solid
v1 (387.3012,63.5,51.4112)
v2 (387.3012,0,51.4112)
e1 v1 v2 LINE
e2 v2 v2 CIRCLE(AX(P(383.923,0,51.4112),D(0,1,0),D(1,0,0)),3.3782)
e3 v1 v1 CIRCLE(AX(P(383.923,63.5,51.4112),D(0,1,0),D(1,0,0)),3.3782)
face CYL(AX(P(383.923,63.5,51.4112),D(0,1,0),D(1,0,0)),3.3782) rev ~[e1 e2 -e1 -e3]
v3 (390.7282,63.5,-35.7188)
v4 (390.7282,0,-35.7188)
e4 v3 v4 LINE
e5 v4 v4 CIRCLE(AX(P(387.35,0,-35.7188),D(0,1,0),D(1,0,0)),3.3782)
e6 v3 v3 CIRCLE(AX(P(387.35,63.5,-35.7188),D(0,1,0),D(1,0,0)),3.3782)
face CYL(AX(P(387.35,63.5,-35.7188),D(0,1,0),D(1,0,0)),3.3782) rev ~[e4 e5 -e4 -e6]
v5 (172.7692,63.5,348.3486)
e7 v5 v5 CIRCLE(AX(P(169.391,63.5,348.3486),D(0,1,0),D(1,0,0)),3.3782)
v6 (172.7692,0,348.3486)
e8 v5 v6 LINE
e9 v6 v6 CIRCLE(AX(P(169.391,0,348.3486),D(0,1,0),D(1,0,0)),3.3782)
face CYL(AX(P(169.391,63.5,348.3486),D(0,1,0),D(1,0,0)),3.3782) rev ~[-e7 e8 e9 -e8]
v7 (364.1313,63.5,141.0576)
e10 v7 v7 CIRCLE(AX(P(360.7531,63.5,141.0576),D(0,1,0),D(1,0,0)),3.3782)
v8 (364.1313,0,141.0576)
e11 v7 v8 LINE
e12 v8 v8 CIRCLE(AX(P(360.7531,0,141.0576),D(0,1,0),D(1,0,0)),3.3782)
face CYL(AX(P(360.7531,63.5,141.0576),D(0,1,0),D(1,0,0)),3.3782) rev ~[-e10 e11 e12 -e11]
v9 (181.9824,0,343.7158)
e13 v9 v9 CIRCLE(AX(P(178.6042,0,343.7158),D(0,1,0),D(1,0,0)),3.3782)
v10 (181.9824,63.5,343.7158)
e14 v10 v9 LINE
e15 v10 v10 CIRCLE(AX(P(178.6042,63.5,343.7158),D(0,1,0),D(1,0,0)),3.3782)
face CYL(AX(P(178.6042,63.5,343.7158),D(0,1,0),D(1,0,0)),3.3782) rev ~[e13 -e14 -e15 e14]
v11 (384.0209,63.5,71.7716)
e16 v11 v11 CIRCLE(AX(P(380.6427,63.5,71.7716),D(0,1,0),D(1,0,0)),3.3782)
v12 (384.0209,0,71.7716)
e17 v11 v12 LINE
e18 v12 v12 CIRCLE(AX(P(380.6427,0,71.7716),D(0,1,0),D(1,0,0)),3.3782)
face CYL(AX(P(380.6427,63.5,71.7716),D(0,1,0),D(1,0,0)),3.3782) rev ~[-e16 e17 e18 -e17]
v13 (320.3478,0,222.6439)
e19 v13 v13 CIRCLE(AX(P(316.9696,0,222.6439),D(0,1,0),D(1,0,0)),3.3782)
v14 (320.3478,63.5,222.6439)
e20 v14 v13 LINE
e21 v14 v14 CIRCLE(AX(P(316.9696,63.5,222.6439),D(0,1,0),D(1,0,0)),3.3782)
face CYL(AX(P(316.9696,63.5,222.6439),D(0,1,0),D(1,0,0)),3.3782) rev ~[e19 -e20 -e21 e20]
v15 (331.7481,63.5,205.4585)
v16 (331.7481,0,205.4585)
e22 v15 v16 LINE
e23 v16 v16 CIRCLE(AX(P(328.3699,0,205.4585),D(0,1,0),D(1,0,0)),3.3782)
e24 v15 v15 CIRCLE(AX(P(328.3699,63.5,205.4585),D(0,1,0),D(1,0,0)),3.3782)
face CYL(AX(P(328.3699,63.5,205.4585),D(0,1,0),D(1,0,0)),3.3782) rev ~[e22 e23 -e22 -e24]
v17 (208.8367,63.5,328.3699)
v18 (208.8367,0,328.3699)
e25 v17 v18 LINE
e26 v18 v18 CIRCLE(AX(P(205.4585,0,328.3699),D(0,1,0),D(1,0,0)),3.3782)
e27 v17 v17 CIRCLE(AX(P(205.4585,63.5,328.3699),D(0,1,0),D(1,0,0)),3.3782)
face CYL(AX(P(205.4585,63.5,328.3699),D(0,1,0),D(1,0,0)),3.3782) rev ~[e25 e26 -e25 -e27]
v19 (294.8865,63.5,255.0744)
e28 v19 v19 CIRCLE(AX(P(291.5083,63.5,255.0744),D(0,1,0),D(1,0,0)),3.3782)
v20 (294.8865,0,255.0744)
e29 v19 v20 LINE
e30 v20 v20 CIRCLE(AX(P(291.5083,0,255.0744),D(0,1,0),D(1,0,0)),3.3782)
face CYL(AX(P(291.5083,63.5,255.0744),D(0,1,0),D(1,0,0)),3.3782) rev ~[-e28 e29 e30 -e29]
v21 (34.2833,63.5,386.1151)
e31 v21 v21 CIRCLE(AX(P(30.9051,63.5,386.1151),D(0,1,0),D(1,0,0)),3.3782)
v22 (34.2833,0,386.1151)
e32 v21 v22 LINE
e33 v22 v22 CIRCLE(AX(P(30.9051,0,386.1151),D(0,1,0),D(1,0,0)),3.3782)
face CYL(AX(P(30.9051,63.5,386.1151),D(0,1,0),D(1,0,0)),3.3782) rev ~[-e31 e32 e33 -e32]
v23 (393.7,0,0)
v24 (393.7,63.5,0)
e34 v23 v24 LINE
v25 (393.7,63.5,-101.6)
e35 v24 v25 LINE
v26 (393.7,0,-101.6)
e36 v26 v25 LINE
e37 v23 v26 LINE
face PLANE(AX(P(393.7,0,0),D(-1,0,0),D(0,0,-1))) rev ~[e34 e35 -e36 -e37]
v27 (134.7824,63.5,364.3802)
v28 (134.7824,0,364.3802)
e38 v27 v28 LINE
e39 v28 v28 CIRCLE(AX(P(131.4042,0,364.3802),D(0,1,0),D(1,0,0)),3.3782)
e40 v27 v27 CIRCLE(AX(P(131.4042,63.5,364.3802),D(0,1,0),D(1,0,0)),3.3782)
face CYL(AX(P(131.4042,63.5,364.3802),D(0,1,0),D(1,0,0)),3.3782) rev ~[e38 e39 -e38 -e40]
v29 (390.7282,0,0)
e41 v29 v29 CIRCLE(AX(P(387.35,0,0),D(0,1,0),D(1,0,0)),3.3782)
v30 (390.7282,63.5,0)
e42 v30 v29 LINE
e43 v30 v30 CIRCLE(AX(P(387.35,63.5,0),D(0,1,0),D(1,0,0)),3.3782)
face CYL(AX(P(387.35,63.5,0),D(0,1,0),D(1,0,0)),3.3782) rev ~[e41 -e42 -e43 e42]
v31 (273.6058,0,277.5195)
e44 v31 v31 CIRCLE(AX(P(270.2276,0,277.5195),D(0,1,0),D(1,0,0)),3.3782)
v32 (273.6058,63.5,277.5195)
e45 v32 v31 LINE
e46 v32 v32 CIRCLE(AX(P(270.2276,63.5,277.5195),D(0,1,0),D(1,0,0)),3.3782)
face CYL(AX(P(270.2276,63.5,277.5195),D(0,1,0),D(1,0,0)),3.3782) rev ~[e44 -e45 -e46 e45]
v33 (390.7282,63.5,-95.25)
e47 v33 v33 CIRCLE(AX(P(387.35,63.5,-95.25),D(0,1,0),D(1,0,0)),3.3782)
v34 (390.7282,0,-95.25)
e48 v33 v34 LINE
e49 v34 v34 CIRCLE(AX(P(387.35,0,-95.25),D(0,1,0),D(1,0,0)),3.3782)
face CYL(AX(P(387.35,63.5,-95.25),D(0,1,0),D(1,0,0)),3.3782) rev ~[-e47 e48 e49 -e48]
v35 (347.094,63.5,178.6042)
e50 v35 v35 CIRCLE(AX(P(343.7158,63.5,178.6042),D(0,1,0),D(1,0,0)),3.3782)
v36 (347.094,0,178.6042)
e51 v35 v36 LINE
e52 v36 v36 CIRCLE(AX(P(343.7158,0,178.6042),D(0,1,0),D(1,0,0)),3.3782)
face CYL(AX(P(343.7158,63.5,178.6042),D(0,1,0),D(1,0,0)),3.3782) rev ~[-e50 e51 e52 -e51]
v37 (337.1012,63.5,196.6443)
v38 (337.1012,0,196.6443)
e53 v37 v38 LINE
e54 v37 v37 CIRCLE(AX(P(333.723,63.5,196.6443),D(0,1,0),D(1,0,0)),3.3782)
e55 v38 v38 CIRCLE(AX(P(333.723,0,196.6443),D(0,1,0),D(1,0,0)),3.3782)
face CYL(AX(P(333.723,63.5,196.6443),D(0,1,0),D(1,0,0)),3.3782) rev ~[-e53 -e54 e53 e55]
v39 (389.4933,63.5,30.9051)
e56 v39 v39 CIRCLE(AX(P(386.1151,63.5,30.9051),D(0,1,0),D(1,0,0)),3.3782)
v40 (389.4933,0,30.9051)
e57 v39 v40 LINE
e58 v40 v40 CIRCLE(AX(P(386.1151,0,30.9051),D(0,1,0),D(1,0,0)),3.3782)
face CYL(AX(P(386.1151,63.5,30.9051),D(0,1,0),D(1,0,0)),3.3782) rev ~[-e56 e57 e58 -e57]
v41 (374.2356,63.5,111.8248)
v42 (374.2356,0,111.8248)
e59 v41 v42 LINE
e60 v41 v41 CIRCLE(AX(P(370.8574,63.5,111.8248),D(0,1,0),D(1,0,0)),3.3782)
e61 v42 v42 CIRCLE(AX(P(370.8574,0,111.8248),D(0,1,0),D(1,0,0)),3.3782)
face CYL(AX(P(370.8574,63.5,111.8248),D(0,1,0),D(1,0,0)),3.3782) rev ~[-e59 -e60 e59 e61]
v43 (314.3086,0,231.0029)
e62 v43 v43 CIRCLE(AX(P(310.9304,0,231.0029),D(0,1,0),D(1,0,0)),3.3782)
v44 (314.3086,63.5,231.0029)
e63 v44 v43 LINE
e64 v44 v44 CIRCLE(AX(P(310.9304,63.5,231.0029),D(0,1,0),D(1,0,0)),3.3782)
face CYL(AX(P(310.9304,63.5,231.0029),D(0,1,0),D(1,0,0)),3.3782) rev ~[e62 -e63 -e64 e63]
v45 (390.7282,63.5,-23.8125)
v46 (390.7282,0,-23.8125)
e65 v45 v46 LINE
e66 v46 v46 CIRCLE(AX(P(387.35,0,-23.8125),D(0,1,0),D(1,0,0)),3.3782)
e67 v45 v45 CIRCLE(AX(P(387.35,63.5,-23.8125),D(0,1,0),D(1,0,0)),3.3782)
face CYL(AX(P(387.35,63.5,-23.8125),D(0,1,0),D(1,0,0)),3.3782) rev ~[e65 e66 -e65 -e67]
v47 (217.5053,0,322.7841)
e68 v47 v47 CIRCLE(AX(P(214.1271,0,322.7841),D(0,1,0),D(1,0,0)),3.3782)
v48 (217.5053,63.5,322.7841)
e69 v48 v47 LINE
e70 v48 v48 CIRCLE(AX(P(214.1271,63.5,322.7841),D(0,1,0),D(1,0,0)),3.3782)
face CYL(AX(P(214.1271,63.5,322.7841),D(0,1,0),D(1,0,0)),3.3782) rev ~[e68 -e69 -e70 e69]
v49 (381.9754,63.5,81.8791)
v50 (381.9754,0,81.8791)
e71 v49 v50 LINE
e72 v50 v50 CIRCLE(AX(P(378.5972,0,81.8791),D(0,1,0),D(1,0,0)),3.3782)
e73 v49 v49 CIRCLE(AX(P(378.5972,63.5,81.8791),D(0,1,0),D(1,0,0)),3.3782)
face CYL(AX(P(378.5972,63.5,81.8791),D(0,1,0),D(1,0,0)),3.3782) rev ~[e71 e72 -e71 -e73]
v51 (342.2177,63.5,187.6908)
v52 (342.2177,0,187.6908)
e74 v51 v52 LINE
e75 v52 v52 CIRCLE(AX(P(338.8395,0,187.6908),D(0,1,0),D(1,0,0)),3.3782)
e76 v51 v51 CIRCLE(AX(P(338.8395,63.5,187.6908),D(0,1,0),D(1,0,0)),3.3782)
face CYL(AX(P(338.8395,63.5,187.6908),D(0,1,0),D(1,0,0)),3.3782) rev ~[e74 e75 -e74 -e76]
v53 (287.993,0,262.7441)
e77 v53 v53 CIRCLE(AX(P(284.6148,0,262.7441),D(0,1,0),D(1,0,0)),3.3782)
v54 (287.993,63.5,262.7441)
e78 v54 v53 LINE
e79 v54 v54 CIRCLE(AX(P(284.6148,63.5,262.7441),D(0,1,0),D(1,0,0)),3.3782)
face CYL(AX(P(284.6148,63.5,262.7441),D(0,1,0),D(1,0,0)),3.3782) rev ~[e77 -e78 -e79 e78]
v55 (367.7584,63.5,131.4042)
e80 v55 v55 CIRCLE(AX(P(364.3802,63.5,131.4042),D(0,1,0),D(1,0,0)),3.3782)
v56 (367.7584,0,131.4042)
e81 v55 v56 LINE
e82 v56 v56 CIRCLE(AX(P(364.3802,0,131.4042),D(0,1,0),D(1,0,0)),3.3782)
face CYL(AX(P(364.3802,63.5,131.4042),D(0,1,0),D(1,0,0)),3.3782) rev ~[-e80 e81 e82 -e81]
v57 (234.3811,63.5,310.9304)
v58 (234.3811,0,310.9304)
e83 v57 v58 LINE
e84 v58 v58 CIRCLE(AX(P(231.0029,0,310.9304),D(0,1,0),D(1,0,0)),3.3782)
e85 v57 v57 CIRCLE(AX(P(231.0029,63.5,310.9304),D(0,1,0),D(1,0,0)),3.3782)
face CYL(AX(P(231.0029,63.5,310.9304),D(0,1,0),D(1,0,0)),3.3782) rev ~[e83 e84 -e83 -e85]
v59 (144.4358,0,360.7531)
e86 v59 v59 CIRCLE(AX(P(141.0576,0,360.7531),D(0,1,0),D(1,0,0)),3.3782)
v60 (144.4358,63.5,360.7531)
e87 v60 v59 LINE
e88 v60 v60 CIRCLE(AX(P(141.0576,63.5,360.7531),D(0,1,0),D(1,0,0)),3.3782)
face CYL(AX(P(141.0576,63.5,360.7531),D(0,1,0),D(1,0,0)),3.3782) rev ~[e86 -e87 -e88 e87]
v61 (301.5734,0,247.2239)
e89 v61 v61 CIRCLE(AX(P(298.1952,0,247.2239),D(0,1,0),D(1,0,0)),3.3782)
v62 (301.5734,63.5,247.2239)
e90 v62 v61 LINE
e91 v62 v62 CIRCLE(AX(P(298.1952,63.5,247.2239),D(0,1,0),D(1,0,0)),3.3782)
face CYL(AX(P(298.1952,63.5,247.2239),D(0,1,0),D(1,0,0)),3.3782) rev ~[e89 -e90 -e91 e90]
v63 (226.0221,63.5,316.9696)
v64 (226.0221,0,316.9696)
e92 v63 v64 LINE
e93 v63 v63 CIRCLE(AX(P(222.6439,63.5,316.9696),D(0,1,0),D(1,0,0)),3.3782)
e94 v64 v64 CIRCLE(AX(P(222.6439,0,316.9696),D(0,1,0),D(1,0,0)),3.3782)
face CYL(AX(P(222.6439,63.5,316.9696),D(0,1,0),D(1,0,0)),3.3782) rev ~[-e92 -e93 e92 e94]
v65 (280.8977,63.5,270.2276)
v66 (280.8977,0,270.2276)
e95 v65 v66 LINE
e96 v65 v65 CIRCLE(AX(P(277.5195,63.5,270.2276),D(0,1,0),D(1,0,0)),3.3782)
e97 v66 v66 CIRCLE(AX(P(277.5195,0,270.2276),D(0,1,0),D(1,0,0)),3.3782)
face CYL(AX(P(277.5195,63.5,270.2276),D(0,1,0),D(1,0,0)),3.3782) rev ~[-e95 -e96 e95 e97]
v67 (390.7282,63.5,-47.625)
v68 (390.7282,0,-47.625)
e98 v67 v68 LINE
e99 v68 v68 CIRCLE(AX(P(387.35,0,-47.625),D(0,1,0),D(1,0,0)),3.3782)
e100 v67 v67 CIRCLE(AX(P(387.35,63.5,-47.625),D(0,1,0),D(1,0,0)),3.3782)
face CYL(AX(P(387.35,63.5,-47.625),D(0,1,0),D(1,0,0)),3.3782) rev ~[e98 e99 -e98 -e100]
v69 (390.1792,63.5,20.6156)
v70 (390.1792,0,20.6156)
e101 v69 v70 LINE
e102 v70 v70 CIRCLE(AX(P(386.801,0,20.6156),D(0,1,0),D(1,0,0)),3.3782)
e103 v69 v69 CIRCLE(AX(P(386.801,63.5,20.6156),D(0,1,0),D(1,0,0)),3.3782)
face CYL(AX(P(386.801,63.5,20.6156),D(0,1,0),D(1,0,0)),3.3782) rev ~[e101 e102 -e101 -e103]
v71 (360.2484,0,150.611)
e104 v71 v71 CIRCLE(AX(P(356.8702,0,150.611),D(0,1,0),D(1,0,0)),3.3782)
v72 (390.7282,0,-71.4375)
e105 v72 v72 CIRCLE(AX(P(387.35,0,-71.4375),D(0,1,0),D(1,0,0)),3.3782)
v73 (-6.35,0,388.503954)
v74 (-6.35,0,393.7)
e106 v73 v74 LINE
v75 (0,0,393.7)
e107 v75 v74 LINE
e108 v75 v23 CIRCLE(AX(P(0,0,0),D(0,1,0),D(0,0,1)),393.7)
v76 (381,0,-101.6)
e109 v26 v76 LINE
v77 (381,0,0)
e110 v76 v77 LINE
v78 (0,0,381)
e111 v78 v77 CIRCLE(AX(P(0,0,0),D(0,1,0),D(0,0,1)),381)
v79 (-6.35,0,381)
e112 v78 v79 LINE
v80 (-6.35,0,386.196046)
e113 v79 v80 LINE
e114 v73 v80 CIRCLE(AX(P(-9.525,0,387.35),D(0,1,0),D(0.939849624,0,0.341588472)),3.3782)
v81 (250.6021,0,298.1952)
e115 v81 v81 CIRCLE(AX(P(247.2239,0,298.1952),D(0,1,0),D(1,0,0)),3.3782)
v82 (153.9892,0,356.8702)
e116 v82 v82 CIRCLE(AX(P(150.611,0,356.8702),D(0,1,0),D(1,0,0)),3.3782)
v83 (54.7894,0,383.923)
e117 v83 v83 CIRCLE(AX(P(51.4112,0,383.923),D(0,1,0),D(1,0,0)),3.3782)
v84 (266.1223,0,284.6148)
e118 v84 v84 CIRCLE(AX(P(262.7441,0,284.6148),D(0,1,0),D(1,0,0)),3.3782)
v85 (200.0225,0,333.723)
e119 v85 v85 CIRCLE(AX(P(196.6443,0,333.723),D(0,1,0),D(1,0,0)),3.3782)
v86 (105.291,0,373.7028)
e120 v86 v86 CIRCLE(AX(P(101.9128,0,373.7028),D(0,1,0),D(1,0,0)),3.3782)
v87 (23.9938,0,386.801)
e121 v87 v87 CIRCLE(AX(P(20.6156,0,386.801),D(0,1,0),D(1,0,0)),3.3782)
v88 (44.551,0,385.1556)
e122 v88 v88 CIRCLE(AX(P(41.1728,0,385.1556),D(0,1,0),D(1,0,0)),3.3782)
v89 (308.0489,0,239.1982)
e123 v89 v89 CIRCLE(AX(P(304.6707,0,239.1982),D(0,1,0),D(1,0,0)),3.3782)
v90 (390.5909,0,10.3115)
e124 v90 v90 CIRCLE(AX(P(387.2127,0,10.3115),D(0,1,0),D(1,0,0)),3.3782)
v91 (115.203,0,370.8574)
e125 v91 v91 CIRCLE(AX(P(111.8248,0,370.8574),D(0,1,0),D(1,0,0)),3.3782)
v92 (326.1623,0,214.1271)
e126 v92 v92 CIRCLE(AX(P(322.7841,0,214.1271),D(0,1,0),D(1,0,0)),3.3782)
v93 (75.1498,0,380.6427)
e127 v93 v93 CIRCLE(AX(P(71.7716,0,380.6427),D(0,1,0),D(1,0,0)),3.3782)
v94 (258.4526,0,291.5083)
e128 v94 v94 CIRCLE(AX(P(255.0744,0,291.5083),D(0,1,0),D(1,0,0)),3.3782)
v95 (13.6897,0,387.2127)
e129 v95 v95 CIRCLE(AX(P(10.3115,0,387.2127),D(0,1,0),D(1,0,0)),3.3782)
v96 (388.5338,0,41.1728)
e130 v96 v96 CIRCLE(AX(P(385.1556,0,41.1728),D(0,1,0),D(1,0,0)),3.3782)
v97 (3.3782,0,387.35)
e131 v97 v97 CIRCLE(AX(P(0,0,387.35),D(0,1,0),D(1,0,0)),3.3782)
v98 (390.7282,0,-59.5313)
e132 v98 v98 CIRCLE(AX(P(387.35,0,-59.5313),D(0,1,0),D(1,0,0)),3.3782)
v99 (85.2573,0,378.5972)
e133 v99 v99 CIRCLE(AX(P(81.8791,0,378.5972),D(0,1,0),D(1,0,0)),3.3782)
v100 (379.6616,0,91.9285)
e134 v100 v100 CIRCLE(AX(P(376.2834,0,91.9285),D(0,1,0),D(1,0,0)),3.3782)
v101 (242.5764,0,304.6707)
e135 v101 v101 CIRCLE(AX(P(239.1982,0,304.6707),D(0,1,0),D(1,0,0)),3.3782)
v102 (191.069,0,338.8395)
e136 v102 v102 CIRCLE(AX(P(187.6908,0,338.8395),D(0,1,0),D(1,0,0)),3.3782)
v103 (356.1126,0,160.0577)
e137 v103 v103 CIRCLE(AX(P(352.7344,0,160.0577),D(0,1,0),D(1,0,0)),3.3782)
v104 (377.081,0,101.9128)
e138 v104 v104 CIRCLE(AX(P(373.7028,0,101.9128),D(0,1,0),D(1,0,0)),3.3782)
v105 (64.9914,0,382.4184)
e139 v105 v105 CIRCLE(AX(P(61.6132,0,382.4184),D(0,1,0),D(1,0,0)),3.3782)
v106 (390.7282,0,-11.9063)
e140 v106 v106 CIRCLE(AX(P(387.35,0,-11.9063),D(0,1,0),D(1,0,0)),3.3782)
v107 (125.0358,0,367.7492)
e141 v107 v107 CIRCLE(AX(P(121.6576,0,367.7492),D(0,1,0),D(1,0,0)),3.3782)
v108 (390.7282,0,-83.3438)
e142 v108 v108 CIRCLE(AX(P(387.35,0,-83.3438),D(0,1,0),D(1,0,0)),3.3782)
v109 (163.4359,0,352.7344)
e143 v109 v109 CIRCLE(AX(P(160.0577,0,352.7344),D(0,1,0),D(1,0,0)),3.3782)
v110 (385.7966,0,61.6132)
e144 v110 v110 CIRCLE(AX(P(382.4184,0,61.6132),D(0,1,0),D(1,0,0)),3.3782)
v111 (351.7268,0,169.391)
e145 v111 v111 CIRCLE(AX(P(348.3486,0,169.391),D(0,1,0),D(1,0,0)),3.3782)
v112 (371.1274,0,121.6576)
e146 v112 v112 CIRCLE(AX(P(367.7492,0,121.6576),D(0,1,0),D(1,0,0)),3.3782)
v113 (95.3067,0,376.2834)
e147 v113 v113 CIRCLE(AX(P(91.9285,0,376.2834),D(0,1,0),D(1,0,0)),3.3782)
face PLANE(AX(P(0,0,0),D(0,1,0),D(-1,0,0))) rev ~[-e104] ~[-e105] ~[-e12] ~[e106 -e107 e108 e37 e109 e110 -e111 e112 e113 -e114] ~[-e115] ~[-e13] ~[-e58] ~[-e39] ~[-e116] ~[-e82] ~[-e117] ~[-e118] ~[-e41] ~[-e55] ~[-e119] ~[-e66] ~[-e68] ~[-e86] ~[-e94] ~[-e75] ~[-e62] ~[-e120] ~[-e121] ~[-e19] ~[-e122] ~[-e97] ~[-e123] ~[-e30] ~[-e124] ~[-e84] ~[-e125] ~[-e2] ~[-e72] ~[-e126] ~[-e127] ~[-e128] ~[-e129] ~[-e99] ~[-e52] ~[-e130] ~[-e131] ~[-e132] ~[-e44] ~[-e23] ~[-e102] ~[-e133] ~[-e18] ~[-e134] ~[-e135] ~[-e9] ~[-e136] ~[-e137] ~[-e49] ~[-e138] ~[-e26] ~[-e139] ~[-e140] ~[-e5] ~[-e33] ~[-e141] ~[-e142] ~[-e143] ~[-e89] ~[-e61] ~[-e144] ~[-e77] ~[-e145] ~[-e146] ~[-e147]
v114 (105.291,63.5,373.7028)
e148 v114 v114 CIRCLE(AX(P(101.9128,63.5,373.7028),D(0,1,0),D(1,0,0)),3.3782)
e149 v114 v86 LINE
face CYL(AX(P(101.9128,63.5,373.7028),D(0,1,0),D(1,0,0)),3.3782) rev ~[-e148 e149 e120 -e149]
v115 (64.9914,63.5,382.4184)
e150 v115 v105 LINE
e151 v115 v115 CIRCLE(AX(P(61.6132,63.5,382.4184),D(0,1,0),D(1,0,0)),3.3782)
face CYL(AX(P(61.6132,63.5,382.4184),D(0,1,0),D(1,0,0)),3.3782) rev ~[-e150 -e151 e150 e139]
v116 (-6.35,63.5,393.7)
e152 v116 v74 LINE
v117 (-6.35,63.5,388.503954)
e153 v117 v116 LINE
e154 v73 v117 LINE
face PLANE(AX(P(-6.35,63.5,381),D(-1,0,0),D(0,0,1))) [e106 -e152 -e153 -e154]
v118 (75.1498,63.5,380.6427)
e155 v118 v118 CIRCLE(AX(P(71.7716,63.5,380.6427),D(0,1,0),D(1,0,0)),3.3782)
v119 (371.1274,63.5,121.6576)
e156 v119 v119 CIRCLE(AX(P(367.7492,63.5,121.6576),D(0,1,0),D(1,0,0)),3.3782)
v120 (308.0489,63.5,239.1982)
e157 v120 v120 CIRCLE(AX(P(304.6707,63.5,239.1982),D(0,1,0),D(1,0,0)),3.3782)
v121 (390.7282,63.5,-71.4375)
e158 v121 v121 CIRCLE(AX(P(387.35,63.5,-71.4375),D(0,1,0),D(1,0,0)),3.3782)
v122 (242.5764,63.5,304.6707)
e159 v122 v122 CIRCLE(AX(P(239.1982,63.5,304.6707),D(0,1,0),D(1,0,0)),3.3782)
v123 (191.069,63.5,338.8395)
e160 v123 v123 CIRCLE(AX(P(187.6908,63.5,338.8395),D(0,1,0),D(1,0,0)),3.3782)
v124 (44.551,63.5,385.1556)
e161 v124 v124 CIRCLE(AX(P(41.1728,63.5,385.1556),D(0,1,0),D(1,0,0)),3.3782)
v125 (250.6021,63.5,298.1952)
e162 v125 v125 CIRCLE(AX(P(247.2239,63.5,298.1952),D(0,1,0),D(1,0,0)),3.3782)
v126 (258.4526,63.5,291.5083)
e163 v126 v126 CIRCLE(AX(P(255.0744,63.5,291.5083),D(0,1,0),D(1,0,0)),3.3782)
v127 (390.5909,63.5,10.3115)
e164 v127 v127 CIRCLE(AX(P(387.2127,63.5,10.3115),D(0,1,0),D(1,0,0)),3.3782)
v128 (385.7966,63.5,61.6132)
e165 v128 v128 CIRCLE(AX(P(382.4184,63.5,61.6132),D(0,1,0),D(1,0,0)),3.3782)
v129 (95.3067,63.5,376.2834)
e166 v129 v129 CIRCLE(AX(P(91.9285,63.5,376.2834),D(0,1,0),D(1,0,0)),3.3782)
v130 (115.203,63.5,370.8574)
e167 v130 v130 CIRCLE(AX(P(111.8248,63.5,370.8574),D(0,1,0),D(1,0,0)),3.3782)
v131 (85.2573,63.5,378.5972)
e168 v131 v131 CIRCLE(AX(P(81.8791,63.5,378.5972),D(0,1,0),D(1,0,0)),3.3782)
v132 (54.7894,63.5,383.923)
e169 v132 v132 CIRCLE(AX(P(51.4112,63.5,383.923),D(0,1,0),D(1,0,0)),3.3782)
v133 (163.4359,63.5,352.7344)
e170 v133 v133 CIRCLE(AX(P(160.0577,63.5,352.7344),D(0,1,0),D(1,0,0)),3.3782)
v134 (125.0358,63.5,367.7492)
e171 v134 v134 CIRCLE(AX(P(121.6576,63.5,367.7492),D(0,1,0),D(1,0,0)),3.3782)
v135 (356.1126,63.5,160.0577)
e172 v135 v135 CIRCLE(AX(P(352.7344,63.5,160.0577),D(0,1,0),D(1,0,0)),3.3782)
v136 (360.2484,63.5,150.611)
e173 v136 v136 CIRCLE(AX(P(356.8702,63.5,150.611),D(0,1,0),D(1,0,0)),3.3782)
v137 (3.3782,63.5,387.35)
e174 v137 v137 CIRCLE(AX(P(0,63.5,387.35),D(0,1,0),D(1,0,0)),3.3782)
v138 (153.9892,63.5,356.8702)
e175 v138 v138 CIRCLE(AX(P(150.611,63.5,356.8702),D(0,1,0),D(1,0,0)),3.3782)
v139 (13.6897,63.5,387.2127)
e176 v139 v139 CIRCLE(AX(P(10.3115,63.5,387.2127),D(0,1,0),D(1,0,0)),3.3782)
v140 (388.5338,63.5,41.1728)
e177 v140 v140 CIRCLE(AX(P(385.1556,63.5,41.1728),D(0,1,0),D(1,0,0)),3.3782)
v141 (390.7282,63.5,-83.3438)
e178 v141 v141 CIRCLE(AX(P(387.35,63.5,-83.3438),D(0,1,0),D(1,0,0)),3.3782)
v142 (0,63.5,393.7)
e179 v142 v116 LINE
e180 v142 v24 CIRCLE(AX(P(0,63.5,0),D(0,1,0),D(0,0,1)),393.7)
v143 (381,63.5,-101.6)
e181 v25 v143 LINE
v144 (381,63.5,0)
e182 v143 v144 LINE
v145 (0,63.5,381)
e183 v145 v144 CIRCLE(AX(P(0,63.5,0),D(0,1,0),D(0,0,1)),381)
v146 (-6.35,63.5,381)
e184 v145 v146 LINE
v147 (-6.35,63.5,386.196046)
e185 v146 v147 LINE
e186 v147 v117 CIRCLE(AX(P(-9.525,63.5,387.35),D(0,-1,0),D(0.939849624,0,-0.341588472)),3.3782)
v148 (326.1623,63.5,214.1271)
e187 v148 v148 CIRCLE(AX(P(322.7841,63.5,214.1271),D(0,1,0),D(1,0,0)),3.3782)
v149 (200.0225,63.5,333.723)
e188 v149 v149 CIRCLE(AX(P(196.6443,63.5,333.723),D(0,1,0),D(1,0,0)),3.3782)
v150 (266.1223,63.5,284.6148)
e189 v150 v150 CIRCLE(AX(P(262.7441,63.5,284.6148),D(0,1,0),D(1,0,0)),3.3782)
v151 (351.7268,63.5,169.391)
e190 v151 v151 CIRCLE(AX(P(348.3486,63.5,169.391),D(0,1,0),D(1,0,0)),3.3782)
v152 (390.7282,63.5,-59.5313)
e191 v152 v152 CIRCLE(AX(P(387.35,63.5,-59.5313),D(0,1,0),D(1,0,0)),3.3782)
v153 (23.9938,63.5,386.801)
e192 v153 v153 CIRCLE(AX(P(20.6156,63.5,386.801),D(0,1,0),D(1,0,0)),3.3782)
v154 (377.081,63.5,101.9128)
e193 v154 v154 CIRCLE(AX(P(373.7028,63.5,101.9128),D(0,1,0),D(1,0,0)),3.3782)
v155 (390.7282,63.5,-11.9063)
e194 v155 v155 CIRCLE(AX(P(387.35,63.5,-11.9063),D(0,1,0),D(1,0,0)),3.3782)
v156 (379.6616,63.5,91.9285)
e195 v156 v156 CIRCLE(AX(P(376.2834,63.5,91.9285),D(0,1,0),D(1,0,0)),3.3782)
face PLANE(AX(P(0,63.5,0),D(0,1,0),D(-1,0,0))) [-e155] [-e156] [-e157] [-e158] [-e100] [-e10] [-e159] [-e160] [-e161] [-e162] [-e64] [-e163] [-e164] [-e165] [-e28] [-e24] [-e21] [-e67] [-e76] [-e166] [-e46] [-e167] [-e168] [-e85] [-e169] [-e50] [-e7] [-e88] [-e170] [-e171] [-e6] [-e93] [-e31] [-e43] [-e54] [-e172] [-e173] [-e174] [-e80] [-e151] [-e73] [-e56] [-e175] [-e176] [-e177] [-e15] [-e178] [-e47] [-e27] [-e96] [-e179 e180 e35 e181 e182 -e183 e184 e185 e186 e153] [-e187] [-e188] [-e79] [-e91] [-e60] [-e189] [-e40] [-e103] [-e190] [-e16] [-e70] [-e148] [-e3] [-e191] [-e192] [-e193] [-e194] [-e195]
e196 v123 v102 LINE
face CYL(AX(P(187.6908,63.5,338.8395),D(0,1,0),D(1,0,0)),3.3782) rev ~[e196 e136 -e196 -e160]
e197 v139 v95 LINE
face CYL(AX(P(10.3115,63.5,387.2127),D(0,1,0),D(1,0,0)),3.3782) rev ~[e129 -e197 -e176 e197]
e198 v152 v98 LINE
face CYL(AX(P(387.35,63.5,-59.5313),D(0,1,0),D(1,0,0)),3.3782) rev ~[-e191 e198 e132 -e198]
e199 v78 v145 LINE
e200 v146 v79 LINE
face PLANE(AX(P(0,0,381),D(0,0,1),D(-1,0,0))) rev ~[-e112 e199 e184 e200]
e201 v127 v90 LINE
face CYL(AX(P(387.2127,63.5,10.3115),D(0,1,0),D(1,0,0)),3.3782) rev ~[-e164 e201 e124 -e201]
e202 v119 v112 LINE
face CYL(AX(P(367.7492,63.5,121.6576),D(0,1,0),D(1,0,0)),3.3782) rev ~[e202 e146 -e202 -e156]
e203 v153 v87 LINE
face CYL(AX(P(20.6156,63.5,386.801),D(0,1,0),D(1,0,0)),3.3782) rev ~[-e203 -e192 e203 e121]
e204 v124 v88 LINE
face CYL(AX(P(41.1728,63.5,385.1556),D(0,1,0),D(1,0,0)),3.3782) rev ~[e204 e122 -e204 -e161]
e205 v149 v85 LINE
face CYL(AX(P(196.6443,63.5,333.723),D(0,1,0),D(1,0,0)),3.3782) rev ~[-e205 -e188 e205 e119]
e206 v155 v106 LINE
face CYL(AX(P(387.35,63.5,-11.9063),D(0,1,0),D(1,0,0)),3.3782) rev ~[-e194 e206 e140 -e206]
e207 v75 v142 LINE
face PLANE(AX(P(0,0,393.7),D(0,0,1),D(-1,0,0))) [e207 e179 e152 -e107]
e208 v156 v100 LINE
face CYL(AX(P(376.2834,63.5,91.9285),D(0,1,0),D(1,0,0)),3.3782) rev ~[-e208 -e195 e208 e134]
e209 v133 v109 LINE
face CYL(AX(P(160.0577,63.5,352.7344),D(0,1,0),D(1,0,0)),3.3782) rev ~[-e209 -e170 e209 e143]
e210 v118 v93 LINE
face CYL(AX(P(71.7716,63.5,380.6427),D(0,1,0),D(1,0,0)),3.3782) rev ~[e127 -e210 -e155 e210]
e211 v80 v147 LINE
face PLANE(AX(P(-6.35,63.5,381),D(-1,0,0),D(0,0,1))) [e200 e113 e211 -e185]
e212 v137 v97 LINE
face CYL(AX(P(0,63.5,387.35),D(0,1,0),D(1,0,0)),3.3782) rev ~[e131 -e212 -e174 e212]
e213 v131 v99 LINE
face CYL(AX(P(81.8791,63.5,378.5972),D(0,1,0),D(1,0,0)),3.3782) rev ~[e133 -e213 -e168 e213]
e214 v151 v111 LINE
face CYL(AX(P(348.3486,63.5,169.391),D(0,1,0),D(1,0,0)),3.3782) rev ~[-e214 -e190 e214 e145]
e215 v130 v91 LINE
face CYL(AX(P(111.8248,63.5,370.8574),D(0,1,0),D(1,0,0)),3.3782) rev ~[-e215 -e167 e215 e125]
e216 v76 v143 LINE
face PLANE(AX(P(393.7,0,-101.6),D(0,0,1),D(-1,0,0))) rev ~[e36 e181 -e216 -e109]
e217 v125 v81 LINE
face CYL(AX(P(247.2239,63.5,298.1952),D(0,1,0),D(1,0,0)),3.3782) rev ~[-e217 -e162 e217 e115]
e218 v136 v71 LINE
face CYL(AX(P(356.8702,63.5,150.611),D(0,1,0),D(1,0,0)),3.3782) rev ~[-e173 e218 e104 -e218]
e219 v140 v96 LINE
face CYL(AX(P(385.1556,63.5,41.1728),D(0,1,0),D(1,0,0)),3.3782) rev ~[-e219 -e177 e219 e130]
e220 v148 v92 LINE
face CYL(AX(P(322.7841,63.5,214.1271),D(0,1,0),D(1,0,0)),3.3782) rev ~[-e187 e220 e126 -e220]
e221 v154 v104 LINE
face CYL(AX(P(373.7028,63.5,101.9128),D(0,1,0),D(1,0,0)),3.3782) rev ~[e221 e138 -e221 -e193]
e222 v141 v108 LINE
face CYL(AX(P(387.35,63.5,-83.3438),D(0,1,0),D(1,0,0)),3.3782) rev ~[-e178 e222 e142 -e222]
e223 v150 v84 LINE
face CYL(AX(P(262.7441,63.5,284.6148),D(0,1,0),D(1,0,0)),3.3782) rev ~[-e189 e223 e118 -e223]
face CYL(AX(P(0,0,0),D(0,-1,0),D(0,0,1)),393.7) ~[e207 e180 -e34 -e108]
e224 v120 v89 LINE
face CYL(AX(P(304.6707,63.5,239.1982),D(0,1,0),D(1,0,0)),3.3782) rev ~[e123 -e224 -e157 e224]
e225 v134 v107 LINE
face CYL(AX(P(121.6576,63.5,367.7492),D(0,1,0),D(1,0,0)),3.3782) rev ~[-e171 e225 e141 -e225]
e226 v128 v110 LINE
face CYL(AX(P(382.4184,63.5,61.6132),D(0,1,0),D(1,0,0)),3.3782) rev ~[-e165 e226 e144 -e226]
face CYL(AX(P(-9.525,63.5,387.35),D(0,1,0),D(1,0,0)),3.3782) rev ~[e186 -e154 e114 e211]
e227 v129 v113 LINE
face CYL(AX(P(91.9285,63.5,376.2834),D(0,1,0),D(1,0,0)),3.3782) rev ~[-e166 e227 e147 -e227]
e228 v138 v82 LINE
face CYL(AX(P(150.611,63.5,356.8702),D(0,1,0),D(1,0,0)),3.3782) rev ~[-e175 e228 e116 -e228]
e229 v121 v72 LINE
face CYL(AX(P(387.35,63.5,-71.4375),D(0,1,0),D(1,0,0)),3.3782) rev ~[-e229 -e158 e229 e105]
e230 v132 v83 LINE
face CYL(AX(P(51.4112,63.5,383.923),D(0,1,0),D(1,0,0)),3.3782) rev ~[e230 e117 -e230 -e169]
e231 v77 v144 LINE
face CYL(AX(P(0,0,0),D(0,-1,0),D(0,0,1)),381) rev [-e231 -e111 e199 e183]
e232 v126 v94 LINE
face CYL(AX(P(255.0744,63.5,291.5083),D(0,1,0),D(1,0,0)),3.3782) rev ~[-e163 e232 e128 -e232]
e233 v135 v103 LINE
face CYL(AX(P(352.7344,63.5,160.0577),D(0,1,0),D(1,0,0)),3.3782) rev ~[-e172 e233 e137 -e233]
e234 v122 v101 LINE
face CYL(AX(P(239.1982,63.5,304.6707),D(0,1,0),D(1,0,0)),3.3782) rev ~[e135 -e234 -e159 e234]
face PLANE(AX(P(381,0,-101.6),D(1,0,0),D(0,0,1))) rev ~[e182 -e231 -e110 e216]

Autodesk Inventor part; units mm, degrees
ref_plane "YZ Plane" through (0, 0, 0) normal (1, 0, 0) x (0, 1, 0)
ref_plane "XZ Plane" through (0, 0, 0) normal (0, 1, 0) x (-1, 0, 0)
ref_plane "XY Plane" through (0, 0, 0) normal (0, 0, 1) x (1, 0, 0)
sketch "Sketch1" plane through (0, 0, 0) normal (0, 1, 0) x (-1, 0, 0)
  circle A0 centre (0, 0) radius 101.6
  line L0 (101.6, -101.6) -> (101.6, 533.4)
  line L1 (101.6, 533.4) -> (-609.6, 533.4)
  line L2 (-609.6, 533.4) -> (-609.6, -101.6)
  line L3 (-609.6, -101.6) -> (101.6, -101.6)
  arc A1 (0, 381) -> (-381, 0) centre (0, 0) ccw
  line L4 (-482.6, 12.7) -> (-482.6, -101.6)
  line L5 (-381, -101.6) -> (-381, 0)
  arc A2 (0, 393.7) -> (-393.7, 0) centre (0, 0) ccw
  line L6 (-393.7, 0) -> (-393.7, -101.6)
  line L7 (0, 393.7) -> (101.6, 393.7)
  line L8 (0, 381) -> (101.6, 381)
  dimension "d0" = 203.2
  dimension "d2" = 711.2
  dimension "d5" = 279.4
  dimension "d93" = 12.7
  dimension "d104" = 635
extrude "Extrusion1" add sketch "Sketch1" along normal blind 63.5 contours L8 A1 L5 L3 L6 A2 L7 L0
sketch "Sketch5" plane through (0, 63.5, 0) normal (0, 1, 0) x (1, 0, 0)
  line L0 (393.7, 0) -> (393.7, 101.6) projected
  line L1 (393.7, 101.6) -> (381, 101.6) projected
  line L2 (381, 101.6) -> (381, 0) projected
  arc A0 (0, -381) -> (381, 0) centre (0, 0) ccw projected
  line L3 (0, -381) -> (-101.6, -381) projected
  line L4 (-101.6, -381) -> (-101.6, -393.7) projected
  circle A1 centre (-95.25, -387.35) radius 3.3782
  circle A2 centre (0, -387.35) radius 3.3782
  circle A3 centre (387.35, 0) radius 3.3782
  circle A4 centre (387.35, 95.25) radius 3.3782
  circle A5 centre (387.35, 83.3438) radius 3.3782
  circle A6 centre (387.35, 71.4375) radius 3.3782
  circle A7 centre (387.35, 59.5313) radius 3.3782
  circle A8 centre (387.35, 47.625) radius 3.3782
  circle A9 centre (387.35, 35.7188) radius 3.3782
  circle A10 centre (387.35, 23.8125) radius 3.3782
  circle A11 centre (387.35, 11.9063) radius 3.3782
  circle A12 centre (-85.725, -387.35) radius 3.3782
  circle A13 centre (-76.2, -387.35) radius 3.3782
  circle A14 centre (-66.675, -387.35) radius 3.3782
  circle A15 centre (-57.15, -387.35) radius 3.3782
  circle A16 centre (-47.625, -387.35) radius 3.3782
  circle A17 centre (-38.1, -387.35) radius 3.3782
  circle A18 centre (-28.575, -387.35) radius 3.3782
  circle A19 centre (-19.05, -387.35) radius 3.3782
  circle A20 centre (-9.525, -387.35) radius 3.3782
  circle A21 centre (10.3115, -387.2127) radius 3.3782
  circle A22 centre (20.6156, -386.801) radius 3.3782
  circle A23 centre (30.9051, -386.1151) radius 3.3782
  circle A24 centre (41.1728, -385.1556) radius 3.3782
  circle A25 centre (51.4112, -383.923) radius 3.3782
  circle A26 centre (61.6132, -382.4184) radius 3.3782
  circle A27 centre (71.7716, -380.6427) radius 3.3782
  circle A28 centre (81.8791, -378.5972) radius 3.3782
  circle A29 centre (91.9285, -376.2834) radius 3.3782
  circle A30 centre (101.9128, -373.7028) radius 3.3782
  circle A31 centre (111.8248, -370.8574) radius 3.3782
  circle A32 centre (121.6576, -367.7492) radius 3.3782
  circle A33 centre (131.4042, -364.3802) radius 3.3782
  circle A34 centre (141.0576, -360.7531) radius 3.3782
  circle A35 centre (150.611, -356.8702) radius 3.3782
  circle A36 centre (160.0577, -352.7344) radius 3.3782
  circle A37 centre (169.391, -348.3486) radius 3.3782
  circle A38 centre (178.6042, -343.7158) radius 3.3782
  circle A39 centre (187.6908, -338.8395) radius 3.3782
  circle A40 centre (196.6443, -333.723) radius 3.3782
  circle A41 centre (205.4585, -328.3699) radius 3.3782
  circle A42 centre (214.1271, -322.7841) radius 3.3782
  circle A43 centre (222.6439, -316.9696) radius 3.3782
  circle A44 centre (231.0029, -310.9304) radius 3.3782
  circle A45 centre (239.1982, -304.6707) radius 3.3782
  circle A46 centre (247.2239, -298.1952) radius 3.3782
  circle A47 centre (255.0744, -291.5083) radius 3.3782
  circle A48 centre (262.7441, -284.6148) radius 3.3782
  circle A49 centre (270.2276, -277.5195) radius 3.3782
  circle A50 centre (277.5195, -270.2276) radius 3.3782
  circle A51 centre (284.6148, -262.7441) radius 3.3782
  circle A52 centre (291.5083, -255.0744) radius 3.3782
  circle A53 centre (298.1952, -247.2239) radius 3.3782
  circle A54 centre (304.6707, -239.1982) radius 3.3782
  circle A55 centre (310.9304, -231.0029) radius 3.3782
  circle A56 centre (316.9696, -222.6439) radius 3.3782
  circle A57 centre (322.7841, -214.1271) radius 3.3782
  circle A58 centre (328.3699, -205.4585) radius 3.3782
  circle A59 centre (333.723, -196.6443) radius 3.3782
  circle A60 centre (338.8395, -187.6908) radius 3.3782
  circle A61 centre (343.7158, -178.6042) radius 3.3782
  circle A62 centre (348.3486, -169.391) radius 3.3782
  circle A63 centre (352.7344, -160.0577) radius 3.3782
  circle A64 centre (356.8702, -150.611) radius 3.3782
  circle A65 centre (360.7531, -141.0576) radius 3.3782
  circle A66 centre (364.3802, -131.4042) radius 3.3782
  circle A67 centre (367.7492, -121.6576) radius 3.3782
  circle A68 centre (370.8574, -111.8248) radius 3.3782
  circle A69 centre (373.7028, -101.9128) radius 3.3782
  circle A70 centre (376.2834, -91.9285) radius 3.3782
  circle A71 centre (378.5972, -81.8791) radius 3.3782
  circle A72 centre (380.6427, -71.7716) radius 3.3782
  circle A73 centre (382.4184, -61.6132) radius 3.3782
  circle A74 centre (383.923, -51.4112) radius 3.3782
  circle A75 centre (385.1556, -41.1728) radius 3.3782
  circle A76 centre (386.1151, -30.9051) radius 3.3782
  circle A77 centre (386.801, -20.6156) radius 3.3782
  circle A78 centre (387.2127, -10.3115) radius 3.3782
  circle A79 centre (387.35, 0) radius 3.3782
  dimension "d94" = 6.7564
  dimension "d95" = 6.35
  dimension "d96" = 6.7564
  dimension "d97" = 6.7564
  dimension "d98" = 6.35
  dimension "d99" = 6.35
  dimension "d100" = 6.35
  dimension "d101" = 6.35
  dimension "d102" = 6.35
  dimension "d103" = 101.6
  dimension "d105" = 101.6
  dimension "d108" = 11.9062
  dimension "d115" = 9.525
  dimension "d122" = 90
extrude "Extrusion5" cut sketch "Sketch5" against normal blind 63.5
sketch "Sketch11" plane through (0, 63.5, 0) normal (0, 1, 0) x (1, 0, 0)
  circle A0 centre (-19.05, -387.35) radius 3.3782 projected
  circle A1 centre (-38.1, -387.35) radius 3.3782 projected
  circle A2 centre (-57.15, -387.35) radius 3.3782 projected
  circle A3 centre (-76.2, -387.35) radius 3.3782 projected
  circle A4 centre (-95.25, -387.35) radius 3.3782 projected
  circle A5 centre (-85.725, -387.35) radius 3.3782 projected
  circle A6 centre (-66.675, -387.35) radius 3.3782 projected
  circle A7 centre (-47.625, -387.35) radius 3.3782 projected
  circle A8 centre (-28.575, -387.35) radius 3.3782 projected
  line L0 (0, -381) -> (-101.6, -381) projected
  line L1 (-101.6, -381) -> (-101.6, -393.7) projected
  line L2 (-101.6, -393.7) -> (0, -393.7) projected
  line L3 (-6.35, -381) -> (-6.35, -393.7)
  dimension "d142" = 95.25
extrude "Extrusion9" cut sketch "Sketch11" against normal blind 2540
equation "\"d89\" = d46"
equation "\"d46\" = 23.495"
properties part number "Outer Rail v1" material "Polycarbonate, Clear"
